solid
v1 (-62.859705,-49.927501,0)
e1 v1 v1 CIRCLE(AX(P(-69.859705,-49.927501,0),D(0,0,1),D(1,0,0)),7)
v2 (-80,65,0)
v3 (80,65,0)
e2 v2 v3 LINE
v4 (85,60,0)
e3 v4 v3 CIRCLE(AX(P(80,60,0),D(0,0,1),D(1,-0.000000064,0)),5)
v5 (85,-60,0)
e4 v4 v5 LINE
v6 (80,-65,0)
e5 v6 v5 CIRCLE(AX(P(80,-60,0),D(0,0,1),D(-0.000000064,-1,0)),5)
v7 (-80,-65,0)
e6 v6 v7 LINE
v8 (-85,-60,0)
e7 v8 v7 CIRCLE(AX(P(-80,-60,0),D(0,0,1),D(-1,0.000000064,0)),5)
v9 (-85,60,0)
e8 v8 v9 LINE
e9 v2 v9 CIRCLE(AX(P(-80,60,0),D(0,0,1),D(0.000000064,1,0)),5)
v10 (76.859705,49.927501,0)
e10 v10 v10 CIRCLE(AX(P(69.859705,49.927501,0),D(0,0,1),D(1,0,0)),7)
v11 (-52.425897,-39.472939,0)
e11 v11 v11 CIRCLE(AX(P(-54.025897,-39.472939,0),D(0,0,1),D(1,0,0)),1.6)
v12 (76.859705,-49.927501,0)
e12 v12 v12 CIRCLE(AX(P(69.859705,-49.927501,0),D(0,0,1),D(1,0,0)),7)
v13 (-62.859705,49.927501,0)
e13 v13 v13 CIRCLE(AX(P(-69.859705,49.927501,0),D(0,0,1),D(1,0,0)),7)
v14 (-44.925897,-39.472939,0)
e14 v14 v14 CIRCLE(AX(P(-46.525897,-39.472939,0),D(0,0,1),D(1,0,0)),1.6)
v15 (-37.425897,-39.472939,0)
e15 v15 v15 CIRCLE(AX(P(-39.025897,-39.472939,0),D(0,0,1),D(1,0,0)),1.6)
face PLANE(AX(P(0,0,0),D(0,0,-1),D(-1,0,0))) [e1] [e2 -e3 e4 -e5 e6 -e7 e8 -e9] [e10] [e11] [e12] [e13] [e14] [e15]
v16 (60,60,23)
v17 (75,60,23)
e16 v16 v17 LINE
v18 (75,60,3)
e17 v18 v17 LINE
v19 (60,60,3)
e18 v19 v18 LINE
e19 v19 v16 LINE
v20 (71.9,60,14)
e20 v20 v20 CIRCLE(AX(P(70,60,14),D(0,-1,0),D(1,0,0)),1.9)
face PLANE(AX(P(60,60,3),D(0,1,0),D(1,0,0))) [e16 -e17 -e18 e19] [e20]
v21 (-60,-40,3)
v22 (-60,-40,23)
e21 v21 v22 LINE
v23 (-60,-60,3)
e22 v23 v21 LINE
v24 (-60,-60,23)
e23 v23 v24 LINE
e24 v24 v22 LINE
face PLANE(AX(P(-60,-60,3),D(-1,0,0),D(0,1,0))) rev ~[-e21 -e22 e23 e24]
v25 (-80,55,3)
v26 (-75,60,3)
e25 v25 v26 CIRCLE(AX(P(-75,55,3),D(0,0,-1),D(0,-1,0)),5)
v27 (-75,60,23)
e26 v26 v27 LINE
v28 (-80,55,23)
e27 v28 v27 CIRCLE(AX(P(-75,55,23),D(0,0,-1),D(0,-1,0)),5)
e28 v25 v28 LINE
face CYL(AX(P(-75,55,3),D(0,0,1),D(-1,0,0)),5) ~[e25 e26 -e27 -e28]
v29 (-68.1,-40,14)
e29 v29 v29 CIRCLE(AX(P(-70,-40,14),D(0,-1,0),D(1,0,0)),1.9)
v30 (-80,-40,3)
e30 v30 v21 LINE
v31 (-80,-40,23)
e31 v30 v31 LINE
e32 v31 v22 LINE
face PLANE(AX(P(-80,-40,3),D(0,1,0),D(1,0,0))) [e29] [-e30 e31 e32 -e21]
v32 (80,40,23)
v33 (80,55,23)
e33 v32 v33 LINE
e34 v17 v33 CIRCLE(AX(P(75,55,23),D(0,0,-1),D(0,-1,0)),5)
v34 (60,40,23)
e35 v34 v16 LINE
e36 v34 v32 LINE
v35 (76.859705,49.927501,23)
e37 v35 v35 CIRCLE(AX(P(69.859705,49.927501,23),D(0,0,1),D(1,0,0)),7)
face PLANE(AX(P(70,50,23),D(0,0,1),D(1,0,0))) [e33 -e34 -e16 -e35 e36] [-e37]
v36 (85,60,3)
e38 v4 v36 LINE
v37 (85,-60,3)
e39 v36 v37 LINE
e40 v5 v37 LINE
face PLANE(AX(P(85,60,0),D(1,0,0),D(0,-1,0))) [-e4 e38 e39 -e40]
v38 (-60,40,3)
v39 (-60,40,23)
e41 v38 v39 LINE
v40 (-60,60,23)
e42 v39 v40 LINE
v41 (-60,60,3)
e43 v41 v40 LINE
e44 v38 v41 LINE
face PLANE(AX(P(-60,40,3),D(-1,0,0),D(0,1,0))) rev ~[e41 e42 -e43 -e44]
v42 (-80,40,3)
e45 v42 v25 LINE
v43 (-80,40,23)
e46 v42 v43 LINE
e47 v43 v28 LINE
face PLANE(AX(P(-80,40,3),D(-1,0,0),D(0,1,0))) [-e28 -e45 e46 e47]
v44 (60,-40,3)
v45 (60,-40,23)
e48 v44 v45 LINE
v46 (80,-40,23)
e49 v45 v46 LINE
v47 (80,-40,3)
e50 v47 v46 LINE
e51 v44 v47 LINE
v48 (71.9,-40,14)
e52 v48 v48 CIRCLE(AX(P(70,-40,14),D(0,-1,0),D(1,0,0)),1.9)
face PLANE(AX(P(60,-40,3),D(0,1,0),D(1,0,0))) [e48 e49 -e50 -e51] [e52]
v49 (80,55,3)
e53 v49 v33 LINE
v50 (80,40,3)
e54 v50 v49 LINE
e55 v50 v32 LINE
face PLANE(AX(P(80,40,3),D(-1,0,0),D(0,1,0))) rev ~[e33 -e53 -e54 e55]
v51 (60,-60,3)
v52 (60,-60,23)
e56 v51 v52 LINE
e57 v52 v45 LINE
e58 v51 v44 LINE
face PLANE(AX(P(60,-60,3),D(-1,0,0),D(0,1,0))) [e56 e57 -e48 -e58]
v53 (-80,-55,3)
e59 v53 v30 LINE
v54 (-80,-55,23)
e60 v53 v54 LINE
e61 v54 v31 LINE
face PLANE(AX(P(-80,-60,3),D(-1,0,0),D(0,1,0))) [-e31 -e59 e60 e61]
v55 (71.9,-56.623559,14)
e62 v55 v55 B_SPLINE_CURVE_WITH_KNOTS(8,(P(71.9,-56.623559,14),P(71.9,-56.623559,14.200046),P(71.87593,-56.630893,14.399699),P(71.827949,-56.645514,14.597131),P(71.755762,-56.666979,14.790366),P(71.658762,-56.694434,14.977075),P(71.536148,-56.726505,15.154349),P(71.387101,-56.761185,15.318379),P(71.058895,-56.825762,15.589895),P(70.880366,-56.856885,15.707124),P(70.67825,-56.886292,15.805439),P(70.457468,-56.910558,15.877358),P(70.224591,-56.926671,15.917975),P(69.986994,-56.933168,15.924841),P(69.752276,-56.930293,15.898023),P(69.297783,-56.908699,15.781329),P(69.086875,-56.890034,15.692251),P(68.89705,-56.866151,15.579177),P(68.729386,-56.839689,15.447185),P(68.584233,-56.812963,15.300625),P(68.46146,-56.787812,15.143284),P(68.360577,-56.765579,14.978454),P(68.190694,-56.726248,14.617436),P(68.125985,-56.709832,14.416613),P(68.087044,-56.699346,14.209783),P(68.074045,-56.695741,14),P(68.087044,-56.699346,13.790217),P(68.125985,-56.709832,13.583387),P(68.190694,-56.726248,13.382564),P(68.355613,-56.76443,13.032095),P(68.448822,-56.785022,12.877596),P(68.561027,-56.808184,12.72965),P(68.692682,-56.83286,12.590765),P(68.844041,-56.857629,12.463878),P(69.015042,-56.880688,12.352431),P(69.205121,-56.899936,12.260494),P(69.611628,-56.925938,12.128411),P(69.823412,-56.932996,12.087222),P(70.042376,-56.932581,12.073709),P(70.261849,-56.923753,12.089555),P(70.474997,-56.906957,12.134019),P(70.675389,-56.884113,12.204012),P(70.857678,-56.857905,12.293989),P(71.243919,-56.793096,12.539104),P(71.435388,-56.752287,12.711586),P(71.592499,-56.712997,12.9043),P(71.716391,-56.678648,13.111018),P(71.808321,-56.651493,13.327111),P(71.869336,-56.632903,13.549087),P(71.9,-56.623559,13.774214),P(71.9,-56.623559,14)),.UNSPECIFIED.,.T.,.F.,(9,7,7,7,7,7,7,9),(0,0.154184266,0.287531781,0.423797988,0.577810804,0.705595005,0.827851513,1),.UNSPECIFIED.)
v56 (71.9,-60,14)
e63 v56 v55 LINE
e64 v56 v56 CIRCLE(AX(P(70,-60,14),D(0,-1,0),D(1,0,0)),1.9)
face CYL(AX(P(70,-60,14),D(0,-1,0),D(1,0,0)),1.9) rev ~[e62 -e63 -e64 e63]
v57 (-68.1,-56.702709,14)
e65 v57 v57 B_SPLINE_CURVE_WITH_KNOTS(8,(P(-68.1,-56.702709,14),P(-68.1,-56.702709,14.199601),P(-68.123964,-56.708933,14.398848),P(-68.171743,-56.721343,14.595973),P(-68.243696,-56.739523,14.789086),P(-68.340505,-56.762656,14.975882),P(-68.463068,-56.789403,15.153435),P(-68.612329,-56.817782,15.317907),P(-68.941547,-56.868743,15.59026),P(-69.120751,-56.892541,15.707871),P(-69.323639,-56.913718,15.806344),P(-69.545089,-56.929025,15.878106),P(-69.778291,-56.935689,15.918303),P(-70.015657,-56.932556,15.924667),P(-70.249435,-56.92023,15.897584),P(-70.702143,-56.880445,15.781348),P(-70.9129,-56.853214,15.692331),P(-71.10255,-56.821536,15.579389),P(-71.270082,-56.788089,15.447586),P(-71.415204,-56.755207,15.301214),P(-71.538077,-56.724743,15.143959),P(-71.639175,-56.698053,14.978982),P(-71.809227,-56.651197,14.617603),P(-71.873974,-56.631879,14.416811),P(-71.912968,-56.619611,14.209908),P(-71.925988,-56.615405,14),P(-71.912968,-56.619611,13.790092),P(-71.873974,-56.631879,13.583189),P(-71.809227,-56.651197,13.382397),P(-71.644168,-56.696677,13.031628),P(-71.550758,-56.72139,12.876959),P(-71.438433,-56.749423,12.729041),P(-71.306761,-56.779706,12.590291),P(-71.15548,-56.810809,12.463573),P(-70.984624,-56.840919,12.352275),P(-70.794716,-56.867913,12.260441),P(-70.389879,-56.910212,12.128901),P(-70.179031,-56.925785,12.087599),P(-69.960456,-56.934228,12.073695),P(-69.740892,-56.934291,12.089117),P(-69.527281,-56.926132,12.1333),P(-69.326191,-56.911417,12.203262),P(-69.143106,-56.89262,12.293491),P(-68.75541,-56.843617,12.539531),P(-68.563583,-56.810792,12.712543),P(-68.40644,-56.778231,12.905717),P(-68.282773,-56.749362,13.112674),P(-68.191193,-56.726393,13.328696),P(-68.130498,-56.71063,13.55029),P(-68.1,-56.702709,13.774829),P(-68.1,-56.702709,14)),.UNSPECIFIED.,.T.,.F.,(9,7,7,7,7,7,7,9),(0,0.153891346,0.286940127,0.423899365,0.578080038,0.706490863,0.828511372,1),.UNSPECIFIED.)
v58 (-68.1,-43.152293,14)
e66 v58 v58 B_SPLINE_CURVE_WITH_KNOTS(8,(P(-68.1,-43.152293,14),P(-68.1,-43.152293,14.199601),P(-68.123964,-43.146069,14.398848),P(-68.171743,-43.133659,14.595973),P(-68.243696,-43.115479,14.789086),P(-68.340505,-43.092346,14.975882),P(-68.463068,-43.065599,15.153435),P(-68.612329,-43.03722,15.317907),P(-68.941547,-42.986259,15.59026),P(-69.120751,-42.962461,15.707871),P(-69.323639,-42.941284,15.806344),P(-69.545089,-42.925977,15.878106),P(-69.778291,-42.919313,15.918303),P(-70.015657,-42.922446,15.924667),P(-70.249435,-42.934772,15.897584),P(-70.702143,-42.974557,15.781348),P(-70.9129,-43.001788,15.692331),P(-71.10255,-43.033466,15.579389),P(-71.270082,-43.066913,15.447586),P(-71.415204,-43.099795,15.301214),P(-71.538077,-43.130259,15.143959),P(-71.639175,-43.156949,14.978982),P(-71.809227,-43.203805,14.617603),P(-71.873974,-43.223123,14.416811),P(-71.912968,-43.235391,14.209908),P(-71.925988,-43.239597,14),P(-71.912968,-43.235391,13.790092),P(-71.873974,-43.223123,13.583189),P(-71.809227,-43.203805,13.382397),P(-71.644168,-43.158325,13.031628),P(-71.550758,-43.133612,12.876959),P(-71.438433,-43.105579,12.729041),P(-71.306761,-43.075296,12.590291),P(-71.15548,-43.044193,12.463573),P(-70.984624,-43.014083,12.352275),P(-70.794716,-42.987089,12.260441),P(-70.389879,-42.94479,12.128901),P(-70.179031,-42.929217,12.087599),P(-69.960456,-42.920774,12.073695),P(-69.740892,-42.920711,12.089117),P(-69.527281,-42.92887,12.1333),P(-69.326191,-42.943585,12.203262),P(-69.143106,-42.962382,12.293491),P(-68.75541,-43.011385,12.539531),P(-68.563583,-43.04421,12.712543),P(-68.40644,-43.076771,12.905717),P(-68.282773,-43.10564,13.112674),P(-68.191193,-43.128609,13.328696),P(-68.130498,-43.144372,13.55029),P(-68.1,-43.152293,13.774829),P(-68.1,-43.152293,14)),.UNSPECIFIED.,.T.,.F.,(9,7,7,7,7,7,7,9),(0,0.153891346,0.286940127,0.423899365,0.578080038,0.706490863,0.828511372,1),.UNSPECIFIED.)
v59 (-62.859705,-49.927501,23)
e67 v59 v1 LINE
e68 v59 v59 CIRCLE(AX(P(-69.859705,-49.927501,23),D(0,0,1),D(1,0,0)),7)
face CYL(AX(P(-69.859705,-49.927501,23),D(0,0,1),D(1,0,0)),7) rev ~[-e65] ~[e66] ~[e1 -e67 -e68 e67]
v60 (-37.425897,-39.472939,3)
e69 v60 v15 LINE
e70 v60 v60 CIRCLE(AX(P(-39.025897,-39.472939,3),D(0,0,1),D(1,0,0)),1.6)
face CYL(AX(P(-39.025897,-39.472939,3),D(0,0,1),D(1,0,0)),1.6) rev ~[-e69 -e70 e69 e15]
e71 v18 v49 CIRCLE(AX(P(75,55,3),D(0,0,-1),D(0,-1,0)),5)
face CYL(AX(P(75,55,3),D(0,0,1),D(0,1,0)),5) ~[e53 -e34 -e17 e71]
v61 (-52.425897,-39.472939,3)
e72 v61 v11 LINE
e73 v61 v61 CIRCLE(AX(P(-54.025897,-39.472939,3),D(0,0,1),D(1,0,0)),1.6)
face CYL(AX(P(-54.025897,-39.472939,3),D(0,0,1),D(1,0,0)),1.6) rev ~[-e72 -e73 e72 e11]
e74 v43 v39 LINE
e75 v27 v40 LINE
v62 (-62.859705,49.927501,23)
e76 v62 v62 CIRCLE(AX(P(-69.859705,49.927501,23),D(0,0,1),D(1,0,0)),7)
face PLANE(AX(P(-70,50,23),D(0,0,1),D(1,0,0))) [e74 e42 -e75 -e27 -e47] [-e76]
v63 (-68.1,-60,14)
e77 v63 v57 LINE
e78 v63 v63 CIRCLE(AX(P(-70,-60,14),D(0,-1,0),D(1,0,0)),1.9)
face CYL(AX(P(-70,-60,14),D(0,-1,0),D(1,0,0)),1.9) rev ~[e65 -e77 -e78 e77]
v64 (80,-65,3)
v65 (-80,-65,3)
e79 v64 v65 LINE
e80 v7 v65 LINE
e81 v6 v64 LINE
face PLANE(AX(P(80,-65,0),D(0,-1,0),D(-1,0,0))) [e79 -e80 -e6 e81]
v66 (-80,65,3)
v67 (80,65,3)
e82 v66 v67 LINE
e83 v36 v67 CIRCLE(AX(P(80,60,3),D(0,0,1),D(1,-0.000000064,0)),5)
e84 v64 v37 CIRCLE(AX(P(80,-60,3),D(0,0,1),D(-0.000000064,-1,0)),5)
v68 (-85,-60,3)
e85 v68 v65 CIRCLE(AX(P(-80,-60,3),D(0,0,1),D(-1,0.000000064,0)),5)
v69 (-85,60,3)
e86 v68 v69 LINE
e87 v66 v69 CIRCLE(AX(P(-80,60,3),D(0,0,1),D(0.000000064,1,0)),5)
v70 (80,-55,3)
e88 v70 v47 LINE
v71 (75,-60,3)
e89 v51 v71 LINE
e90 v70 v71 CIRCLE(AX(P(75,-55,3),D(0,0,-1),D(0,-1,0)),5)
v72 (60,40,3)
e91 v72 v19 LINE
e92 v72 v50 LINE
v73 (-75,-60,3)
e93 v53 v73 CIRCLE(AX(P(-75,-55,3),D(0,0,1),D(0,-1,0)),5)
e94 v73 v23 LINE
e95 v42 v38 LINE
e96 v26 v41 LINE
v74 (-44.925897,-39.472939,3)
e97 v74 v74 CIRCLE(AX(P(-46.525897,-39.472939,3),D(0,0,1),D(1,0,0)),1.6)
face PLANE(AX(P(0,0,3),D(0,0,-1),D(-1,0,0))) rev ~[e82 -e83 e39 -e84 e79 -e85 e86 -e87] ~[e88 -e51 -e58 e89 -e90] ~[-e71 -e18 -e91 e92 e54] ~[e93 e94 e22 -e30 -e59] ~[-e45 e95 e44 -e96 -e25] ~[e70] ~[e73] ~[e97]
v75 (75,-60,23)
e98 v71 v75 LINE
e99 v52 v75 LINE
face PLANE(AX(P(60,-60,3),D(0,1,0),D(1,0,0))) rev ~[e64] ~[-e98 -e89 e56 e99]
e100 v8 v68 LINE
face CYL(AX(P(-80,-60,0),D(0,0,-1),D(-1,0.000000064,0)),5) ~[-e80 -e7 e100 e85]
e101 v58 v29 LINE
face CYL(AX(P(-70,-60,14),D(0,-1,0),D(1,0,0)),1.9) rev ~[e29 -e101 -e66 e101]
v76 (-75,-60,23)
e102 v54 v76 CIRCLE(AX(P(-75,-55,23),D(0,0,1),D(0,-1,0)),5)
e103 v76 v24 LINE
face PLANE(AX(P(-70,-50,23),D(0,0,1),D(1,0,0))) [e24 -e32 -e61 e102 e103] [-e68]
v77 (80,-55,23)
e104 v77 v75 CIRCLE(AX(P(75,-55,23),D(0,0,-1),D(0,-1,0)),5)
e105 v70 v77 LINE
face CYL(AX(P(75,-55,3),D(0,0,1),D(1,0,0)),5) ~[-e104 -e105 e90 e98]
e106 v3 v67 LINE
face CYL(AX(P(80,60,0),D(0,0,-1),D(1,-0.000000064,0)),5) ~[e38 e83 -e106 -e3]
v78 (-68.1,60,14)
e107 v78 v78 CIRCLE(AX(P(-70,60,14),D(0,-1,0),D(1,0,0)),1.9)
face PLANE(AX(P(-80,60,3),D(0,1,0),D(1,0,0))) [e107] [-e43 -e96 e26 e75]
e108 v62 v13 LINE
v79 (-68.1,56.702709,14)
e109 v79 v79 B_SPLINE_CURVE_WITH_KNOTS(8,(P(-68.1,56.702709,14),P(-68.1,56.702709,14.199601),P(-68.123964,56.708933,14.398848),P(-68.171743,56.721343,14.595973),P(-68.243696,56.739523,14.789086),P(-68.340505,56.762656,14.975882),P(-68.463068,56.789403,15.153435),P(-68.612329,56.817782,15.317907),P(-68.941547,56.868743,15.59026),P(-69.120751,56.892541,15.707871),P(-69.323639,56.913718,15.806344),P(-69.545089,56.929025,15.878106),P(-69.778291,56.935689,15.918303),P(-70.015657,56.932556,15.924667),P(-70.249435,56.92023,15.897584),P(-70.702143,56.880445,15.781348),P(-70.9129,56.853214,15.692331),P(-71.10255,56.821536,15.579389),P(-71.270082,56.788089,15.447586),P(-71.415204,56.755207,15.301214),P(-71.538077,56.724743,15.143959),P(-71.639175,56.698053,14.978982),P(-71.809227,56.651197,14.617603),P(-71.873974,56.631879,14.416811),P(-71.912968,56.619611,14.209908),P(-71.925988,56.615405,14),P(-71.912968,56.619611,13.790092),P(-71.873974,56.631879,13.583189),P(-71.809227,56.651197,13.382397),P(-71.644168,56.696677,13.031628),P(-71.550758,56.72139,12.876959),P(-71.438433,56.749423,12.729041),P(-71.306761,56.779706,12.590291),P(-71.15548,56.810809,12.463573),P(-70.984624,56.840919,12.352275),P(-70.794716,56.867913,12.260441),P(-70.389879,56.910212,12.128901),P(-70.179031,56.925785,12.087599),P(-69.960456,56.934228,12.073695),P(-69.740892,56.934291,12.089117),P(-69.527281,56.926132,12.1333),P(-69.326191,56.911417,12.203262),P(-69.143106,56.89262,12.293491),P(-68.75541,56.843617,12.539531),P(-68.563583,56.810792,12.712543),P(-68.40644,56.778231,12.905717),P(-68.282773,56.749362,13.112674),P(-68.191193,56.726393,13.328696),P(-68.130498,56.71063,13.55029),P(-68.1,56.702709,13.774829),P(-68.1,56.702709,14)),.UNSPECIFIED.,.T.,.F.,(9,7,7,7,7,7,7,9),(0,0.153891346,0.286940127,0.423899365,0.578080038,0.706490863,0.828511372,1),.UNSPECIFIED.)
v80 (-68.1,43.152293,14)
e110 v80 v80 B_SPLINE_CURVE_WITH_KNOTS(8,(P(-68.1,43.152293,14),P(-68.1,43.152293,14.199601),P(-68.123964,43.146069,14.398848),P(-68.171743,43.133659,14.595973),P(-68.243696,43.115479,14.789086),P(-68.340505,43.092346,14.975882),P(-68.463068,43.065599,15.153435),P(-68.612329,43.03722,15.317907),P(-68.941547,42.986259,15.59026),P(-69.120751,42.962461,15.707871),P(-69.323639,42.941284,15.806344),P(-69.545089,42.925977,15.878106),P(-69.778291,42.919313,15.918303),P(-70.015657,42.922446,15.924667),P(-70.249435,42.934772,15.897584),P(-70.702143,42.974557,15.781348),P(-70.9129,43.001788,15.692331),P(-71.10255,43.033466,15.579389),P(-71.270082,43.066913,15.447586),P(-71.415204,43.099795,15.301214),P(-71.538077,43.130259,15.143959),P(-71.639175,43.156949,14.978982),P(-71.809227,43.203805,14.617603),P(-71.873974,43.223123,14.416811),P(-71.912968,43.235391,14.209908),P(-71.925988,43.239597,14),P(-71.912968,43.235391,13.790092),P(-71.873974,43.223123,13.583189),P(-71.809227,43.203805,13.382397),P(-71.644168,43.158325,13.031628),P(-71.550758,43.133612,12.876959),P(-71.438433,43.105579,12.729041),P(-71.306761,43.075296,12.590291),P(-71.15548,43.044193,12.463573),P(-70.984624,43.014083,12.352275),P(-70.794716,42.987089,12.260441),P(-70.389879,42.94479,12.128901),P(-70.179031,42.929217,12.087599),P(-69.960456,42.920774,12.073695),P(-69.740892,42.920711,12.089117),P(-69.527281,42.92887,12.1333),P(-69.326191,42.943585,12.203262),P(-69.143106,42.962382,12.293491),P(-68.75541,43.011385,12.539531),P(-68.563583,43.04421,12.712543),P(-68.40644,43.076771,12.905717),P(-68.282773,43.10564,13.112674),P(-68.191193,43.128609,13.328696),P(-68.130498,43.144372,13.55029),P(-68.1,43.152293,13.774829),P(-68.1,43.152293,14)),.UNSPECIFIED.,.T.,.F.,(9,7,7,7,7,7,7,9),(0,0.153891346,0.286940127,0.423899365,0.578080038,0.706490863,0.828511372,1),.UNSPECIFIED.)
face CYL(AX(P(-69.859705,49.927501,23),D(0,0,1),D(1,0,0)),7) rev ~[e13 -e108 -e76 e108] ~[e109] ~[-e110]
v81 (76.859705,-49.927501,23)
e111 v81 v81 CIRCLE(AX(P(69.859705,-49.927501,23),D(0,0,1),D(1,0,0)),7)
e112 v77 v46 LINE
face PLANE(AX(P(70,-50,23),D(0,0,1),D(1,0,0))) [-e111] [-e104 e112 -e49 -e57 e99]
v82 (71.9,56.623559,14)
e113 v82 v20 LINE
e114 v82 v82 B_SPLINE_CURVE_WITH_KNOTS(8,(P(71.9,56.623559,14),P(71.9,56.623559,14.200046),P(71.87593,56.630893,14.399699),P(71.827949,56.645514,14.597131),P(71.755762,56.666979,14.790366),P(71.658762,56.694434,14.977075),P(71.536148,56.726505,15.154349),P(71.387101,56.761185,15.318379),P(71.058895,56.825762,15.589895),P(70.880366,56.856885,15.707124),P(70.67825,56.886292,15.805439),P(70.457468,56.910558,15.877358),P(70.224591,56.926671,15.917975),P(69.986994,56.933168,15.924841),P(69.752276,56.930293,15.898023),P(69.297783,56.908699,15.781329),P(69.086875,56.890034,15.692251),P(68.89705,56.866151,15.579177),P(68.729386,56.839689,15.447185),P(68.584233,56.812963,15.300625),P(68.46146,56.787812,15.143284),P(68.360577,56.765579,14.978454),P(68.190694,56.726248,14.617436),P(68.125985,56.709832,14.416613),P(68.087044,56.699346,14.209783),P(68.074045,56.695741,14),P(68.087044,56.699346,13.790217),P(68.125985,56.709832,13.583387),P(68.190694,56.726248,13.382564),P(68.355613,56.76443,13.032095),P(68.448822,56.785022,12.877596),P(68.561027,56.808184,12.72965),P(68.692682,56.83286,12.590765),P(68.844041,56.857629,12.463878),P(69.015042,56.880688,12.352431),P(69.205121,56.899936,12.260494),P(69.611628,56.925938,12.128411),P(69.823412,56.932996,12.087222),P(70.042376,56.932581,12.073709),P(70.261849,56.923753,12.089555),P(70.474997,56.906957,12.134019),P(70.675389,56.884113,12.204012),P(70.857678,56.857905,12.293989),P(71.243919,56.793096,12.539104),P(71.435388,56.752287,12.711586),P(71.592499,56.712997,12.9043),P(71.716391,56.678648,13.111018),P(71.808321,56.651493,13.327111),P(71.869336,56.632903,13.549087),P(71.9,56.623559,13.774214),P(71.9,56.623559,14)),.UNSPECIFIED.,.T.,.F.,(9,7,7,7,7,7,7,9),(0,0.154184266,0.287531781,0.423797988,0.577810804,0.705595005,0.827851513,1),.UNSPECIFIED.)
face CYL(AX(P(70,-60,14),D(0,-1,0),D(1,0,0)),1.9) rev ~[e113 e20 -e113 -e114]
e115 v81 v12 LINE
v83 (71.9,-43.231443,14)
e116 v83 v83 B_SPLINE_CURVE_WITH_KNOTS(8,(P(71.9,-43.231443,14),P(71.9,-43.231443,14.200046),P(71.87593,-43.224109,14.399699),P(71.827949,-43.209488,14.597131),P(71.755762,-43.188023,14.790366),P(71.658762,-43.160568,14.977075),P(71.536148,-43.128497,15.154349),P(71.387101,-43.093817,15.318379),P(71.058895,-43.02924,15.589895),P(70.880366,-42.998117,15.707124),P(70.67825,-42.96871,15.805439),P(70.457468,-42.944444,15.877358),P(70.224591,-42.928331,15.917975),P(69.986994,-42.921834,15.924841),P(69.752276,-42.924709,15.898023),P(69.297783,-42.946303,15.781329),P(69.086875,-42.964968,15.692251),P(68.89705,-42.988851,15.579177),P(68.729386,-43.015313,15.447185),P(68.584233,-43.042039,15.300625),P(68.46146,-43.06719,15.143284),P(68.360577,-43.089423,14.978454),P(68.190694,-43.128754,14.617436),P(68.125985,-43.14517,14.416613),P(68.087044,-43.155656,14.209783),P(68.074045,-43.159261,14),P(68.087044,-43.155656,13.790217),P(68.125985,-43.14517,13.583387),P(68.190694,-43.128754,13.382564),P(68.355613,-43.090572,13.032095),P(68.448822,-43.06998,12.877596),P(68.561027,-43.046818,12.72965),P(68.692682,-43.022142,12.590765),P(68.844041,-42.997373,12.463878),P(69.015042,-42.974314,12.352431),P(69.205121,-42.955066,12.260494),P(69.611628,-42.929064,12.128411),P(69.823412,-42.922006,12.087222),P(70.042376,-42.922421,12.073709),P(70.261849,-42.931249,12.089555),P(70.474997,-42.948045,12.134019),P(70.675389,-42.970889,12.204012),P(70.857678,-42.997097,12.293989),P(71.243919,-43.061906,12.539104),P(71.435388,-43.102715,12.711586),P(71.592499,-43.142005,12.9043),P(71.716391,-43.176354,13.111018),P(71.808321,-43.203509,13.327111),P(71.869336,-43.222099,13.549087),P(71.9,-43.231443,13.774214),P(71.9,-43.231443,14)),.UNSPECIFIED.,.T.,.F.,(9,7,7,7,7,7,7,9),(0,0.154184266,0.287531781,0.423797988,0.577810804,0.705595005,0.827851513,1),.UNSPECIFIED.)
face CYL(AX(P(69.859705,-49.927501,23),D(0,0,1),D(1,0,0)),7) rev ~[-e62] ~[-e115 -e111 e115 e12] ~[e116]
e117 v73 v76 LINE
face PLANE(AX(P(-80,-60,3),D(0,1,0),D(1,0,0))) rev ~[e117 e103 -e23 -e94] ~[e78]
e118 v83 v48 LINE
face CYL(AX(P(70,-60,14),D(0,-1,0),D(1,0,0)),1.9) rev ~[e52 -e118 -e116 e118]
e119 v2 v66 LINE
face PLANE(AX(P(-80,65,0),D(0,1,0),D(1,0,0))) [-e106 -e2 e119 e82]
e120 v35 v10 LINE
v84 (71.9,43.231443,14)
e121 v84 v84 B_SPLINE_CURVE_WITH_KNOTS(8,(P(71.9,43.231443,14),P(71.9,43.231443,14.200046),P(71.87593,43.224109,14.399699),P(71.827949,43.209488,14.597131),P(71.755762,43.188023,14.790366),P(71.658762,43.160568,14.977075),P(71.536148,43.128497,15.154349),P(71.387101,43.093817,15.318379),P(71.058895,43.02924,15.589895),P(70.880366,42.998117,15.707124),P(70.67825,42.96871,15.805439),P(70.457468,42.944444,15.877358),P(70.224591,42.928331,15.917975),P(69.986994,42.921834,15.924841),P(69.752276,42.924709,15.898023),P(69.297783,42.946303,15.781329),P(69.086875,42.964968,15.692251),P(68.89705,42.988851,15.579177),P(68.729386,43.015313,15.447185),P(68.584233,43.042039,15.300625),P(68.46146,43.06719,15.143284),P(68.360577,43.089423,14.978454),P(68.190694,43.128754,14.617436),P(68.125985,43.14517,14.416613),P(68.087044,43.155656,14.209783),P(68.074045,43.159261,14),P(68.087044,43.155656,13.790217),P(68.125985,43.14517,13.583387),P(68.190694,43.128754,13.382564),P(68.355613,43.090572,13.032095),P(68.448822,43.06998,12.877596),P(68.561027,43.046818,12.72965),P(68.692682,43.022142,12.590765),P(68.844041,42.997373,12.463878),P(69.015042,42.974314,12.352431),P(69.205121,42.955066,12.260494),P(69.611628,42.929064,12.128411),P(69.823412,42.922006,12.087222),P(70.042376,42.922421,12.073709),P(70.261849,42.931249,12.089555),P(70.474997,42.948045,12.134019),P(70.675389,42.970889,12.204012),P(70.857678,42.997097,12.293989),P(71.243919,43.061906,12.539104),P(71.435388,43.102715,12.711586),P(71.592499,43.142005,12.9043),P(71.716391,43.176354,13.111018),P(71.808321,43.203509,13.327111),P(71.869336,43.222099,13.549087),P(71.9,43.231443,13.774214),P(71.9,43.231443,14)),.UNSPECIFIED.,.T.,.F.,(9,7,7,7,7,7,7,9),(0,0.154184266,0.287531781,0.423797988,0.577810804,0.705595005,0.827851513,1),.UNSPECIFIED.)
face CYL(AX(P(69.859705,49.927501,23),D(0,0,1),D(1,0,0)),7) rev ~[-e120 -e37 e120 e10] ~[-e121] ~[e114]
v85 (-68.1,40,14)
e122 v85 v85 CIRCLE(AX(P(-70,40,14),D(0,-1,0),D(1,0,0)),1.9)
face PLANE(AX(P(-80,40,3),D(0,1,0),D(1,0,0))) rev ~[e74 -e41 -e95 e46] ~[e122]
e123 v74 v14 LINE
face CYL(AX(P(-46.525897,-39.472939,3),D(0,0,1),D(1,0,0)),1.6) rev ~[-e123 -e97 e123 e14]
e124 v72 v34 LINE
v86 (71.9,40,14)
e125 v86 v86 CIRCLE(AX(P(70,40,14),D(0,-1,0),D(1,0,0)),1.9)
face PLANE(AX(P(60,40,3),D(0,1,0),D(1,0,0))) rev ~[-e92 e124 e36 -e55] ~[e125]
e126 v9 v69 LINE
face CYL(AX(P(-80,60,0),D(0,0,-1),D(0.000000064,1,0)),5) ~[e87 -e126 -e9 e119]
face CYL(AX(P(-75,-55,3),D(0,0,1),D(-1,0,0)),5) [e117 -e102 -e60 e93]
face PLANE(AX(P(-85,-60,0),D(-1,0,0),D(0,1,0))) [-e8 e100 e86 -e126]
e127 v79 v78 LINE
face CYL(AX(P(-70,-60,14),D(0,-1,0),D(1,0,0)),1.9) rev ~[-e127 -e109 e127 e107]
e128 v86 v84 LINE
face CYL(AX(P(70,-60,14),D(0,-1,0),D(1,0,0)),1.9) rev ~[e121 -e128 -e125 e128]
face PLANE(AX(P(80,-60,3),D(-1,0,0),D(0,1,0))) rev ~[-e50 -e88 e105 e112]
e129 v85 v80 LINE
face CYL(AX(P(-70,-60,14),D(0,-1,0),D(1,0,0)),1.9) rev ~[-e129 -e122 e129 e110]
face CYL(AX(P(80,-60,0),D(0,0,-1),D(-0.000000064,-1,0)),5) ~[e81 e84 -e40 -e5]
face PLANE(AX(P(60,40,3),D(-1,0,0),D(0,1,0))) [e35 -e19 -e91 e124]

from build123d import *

# Parameters (mm, degrees)
PAD_DEPTH       = 3
SKETCH002_W     = 20
SKETCH002_H     = 20
PAD001_DEPTH    = 20
FILLET_R        = 5
SKETCH003_R     = 1.9
POCKET_DEPTH    = 125.001
SKETCH004_R     = 7
POCKET001_DEPTH = 23.001
SKETCH005_R     = 1.6
POCKET002_DEPTH = 3.001


with BuildPart() as part:
    # Sketch → Pad (new body)
    with BuildSketch(Plane.XY):
        with BuildLine():
            Line((-80, 65), (80, 65))
            ThreePointArc((85, 60), (83.535534, 63.535534), (80, 65))
            Line((85, 60), (85, -60))
            ThreePointArc((80, -65), (83.535534, -63.535534), (85, -60))
            Line((80, -65), (-80, -65))
            ThreePointArc((-85, -60), (-83.535534, -63.535534), (-80, -65))
            Line((-85, -60), (-85, 60))
            ThreePointArc((-80, 65), (-83.535534, 63.535534), (-85, 60))
        make_face()
    extrude(amount=PAD_DEPTH)

    # Sketch002 → Pad001 (new body)
    with BuildSketch(Plane.XY.offset(3)):
        with Locations((-70, 50)):
            Rectangle(SKETCH002_W, SKETCH002_H)
        with Locations((70, 50)):
            Rectangle(SKETCH002_W, SKETCH002_H)
        with Locations((70, -50)):
            Rectangle(SKETCH002_W, SKETCH002_H)
        with Locations((-70, -50)):
            Rectangle(SKETCH002_W, SKETCH002_H)
    extrude(amount=PAD001_DEPTH)

    # Fillet
    fillet_edges = [part.edges().sort_by_distance(p)[0] for p in [
        (-80, 60, 13),
        (80, 60, 13),
        (-80, -60, 13),
        (80, -60, 13),
    ]]
    fillet(fillet_edges, radius=FILLET_R)

    # Sketch003 → Pocket (cut, through all)
    with BuildSketch(Plane.XZ.offset(60)):
        with Locations((-70, 14)):
            Circle(SKETCH003_R)
        with Locations((70, 14)):
            Circle(SKETCH003_R)
    extrude(amount=-POCKET_DEPTH, mode=Mode.SUBTRACT)

    # Sketch004 → Pocket001 (cut, through all)
    with BuildSketch(Plane.XY.offset(23)):
        with Locations((-69.859705, 49.927501)):
            Circle(SKETCH004_R)
        with Locations((69.859705, 49.927501)):
            Circle(SKETCH004_R)
        with Locations((69.859705, -49.927501)):
            Circle(SKETCH004_R)
        with Locations((-69.859705, -49.927501)):
            Circle(SKETCH004_R)
    extrude(amount=-POCKET001_DEPTH, mode=Mode.SUBTRACT)

    # Sketch005 → Pocket002 (cut, through all)
    with BuildSketch(Plane.XY.offset(3)):
        with Locations((-54.025897, -39.472939)):
            Circle(SKETCH005_R)
        with Locations((-46.525897, -39.472939)):
            Circle(SKETCH005_R)
        with Locations((-39.025897, -39.472939)):
            Circle(SKETCH005_R)
    extrude(amount=-POCKET002_DEPTH, mode=Mode.SUBTRACT)


solid = part.part
